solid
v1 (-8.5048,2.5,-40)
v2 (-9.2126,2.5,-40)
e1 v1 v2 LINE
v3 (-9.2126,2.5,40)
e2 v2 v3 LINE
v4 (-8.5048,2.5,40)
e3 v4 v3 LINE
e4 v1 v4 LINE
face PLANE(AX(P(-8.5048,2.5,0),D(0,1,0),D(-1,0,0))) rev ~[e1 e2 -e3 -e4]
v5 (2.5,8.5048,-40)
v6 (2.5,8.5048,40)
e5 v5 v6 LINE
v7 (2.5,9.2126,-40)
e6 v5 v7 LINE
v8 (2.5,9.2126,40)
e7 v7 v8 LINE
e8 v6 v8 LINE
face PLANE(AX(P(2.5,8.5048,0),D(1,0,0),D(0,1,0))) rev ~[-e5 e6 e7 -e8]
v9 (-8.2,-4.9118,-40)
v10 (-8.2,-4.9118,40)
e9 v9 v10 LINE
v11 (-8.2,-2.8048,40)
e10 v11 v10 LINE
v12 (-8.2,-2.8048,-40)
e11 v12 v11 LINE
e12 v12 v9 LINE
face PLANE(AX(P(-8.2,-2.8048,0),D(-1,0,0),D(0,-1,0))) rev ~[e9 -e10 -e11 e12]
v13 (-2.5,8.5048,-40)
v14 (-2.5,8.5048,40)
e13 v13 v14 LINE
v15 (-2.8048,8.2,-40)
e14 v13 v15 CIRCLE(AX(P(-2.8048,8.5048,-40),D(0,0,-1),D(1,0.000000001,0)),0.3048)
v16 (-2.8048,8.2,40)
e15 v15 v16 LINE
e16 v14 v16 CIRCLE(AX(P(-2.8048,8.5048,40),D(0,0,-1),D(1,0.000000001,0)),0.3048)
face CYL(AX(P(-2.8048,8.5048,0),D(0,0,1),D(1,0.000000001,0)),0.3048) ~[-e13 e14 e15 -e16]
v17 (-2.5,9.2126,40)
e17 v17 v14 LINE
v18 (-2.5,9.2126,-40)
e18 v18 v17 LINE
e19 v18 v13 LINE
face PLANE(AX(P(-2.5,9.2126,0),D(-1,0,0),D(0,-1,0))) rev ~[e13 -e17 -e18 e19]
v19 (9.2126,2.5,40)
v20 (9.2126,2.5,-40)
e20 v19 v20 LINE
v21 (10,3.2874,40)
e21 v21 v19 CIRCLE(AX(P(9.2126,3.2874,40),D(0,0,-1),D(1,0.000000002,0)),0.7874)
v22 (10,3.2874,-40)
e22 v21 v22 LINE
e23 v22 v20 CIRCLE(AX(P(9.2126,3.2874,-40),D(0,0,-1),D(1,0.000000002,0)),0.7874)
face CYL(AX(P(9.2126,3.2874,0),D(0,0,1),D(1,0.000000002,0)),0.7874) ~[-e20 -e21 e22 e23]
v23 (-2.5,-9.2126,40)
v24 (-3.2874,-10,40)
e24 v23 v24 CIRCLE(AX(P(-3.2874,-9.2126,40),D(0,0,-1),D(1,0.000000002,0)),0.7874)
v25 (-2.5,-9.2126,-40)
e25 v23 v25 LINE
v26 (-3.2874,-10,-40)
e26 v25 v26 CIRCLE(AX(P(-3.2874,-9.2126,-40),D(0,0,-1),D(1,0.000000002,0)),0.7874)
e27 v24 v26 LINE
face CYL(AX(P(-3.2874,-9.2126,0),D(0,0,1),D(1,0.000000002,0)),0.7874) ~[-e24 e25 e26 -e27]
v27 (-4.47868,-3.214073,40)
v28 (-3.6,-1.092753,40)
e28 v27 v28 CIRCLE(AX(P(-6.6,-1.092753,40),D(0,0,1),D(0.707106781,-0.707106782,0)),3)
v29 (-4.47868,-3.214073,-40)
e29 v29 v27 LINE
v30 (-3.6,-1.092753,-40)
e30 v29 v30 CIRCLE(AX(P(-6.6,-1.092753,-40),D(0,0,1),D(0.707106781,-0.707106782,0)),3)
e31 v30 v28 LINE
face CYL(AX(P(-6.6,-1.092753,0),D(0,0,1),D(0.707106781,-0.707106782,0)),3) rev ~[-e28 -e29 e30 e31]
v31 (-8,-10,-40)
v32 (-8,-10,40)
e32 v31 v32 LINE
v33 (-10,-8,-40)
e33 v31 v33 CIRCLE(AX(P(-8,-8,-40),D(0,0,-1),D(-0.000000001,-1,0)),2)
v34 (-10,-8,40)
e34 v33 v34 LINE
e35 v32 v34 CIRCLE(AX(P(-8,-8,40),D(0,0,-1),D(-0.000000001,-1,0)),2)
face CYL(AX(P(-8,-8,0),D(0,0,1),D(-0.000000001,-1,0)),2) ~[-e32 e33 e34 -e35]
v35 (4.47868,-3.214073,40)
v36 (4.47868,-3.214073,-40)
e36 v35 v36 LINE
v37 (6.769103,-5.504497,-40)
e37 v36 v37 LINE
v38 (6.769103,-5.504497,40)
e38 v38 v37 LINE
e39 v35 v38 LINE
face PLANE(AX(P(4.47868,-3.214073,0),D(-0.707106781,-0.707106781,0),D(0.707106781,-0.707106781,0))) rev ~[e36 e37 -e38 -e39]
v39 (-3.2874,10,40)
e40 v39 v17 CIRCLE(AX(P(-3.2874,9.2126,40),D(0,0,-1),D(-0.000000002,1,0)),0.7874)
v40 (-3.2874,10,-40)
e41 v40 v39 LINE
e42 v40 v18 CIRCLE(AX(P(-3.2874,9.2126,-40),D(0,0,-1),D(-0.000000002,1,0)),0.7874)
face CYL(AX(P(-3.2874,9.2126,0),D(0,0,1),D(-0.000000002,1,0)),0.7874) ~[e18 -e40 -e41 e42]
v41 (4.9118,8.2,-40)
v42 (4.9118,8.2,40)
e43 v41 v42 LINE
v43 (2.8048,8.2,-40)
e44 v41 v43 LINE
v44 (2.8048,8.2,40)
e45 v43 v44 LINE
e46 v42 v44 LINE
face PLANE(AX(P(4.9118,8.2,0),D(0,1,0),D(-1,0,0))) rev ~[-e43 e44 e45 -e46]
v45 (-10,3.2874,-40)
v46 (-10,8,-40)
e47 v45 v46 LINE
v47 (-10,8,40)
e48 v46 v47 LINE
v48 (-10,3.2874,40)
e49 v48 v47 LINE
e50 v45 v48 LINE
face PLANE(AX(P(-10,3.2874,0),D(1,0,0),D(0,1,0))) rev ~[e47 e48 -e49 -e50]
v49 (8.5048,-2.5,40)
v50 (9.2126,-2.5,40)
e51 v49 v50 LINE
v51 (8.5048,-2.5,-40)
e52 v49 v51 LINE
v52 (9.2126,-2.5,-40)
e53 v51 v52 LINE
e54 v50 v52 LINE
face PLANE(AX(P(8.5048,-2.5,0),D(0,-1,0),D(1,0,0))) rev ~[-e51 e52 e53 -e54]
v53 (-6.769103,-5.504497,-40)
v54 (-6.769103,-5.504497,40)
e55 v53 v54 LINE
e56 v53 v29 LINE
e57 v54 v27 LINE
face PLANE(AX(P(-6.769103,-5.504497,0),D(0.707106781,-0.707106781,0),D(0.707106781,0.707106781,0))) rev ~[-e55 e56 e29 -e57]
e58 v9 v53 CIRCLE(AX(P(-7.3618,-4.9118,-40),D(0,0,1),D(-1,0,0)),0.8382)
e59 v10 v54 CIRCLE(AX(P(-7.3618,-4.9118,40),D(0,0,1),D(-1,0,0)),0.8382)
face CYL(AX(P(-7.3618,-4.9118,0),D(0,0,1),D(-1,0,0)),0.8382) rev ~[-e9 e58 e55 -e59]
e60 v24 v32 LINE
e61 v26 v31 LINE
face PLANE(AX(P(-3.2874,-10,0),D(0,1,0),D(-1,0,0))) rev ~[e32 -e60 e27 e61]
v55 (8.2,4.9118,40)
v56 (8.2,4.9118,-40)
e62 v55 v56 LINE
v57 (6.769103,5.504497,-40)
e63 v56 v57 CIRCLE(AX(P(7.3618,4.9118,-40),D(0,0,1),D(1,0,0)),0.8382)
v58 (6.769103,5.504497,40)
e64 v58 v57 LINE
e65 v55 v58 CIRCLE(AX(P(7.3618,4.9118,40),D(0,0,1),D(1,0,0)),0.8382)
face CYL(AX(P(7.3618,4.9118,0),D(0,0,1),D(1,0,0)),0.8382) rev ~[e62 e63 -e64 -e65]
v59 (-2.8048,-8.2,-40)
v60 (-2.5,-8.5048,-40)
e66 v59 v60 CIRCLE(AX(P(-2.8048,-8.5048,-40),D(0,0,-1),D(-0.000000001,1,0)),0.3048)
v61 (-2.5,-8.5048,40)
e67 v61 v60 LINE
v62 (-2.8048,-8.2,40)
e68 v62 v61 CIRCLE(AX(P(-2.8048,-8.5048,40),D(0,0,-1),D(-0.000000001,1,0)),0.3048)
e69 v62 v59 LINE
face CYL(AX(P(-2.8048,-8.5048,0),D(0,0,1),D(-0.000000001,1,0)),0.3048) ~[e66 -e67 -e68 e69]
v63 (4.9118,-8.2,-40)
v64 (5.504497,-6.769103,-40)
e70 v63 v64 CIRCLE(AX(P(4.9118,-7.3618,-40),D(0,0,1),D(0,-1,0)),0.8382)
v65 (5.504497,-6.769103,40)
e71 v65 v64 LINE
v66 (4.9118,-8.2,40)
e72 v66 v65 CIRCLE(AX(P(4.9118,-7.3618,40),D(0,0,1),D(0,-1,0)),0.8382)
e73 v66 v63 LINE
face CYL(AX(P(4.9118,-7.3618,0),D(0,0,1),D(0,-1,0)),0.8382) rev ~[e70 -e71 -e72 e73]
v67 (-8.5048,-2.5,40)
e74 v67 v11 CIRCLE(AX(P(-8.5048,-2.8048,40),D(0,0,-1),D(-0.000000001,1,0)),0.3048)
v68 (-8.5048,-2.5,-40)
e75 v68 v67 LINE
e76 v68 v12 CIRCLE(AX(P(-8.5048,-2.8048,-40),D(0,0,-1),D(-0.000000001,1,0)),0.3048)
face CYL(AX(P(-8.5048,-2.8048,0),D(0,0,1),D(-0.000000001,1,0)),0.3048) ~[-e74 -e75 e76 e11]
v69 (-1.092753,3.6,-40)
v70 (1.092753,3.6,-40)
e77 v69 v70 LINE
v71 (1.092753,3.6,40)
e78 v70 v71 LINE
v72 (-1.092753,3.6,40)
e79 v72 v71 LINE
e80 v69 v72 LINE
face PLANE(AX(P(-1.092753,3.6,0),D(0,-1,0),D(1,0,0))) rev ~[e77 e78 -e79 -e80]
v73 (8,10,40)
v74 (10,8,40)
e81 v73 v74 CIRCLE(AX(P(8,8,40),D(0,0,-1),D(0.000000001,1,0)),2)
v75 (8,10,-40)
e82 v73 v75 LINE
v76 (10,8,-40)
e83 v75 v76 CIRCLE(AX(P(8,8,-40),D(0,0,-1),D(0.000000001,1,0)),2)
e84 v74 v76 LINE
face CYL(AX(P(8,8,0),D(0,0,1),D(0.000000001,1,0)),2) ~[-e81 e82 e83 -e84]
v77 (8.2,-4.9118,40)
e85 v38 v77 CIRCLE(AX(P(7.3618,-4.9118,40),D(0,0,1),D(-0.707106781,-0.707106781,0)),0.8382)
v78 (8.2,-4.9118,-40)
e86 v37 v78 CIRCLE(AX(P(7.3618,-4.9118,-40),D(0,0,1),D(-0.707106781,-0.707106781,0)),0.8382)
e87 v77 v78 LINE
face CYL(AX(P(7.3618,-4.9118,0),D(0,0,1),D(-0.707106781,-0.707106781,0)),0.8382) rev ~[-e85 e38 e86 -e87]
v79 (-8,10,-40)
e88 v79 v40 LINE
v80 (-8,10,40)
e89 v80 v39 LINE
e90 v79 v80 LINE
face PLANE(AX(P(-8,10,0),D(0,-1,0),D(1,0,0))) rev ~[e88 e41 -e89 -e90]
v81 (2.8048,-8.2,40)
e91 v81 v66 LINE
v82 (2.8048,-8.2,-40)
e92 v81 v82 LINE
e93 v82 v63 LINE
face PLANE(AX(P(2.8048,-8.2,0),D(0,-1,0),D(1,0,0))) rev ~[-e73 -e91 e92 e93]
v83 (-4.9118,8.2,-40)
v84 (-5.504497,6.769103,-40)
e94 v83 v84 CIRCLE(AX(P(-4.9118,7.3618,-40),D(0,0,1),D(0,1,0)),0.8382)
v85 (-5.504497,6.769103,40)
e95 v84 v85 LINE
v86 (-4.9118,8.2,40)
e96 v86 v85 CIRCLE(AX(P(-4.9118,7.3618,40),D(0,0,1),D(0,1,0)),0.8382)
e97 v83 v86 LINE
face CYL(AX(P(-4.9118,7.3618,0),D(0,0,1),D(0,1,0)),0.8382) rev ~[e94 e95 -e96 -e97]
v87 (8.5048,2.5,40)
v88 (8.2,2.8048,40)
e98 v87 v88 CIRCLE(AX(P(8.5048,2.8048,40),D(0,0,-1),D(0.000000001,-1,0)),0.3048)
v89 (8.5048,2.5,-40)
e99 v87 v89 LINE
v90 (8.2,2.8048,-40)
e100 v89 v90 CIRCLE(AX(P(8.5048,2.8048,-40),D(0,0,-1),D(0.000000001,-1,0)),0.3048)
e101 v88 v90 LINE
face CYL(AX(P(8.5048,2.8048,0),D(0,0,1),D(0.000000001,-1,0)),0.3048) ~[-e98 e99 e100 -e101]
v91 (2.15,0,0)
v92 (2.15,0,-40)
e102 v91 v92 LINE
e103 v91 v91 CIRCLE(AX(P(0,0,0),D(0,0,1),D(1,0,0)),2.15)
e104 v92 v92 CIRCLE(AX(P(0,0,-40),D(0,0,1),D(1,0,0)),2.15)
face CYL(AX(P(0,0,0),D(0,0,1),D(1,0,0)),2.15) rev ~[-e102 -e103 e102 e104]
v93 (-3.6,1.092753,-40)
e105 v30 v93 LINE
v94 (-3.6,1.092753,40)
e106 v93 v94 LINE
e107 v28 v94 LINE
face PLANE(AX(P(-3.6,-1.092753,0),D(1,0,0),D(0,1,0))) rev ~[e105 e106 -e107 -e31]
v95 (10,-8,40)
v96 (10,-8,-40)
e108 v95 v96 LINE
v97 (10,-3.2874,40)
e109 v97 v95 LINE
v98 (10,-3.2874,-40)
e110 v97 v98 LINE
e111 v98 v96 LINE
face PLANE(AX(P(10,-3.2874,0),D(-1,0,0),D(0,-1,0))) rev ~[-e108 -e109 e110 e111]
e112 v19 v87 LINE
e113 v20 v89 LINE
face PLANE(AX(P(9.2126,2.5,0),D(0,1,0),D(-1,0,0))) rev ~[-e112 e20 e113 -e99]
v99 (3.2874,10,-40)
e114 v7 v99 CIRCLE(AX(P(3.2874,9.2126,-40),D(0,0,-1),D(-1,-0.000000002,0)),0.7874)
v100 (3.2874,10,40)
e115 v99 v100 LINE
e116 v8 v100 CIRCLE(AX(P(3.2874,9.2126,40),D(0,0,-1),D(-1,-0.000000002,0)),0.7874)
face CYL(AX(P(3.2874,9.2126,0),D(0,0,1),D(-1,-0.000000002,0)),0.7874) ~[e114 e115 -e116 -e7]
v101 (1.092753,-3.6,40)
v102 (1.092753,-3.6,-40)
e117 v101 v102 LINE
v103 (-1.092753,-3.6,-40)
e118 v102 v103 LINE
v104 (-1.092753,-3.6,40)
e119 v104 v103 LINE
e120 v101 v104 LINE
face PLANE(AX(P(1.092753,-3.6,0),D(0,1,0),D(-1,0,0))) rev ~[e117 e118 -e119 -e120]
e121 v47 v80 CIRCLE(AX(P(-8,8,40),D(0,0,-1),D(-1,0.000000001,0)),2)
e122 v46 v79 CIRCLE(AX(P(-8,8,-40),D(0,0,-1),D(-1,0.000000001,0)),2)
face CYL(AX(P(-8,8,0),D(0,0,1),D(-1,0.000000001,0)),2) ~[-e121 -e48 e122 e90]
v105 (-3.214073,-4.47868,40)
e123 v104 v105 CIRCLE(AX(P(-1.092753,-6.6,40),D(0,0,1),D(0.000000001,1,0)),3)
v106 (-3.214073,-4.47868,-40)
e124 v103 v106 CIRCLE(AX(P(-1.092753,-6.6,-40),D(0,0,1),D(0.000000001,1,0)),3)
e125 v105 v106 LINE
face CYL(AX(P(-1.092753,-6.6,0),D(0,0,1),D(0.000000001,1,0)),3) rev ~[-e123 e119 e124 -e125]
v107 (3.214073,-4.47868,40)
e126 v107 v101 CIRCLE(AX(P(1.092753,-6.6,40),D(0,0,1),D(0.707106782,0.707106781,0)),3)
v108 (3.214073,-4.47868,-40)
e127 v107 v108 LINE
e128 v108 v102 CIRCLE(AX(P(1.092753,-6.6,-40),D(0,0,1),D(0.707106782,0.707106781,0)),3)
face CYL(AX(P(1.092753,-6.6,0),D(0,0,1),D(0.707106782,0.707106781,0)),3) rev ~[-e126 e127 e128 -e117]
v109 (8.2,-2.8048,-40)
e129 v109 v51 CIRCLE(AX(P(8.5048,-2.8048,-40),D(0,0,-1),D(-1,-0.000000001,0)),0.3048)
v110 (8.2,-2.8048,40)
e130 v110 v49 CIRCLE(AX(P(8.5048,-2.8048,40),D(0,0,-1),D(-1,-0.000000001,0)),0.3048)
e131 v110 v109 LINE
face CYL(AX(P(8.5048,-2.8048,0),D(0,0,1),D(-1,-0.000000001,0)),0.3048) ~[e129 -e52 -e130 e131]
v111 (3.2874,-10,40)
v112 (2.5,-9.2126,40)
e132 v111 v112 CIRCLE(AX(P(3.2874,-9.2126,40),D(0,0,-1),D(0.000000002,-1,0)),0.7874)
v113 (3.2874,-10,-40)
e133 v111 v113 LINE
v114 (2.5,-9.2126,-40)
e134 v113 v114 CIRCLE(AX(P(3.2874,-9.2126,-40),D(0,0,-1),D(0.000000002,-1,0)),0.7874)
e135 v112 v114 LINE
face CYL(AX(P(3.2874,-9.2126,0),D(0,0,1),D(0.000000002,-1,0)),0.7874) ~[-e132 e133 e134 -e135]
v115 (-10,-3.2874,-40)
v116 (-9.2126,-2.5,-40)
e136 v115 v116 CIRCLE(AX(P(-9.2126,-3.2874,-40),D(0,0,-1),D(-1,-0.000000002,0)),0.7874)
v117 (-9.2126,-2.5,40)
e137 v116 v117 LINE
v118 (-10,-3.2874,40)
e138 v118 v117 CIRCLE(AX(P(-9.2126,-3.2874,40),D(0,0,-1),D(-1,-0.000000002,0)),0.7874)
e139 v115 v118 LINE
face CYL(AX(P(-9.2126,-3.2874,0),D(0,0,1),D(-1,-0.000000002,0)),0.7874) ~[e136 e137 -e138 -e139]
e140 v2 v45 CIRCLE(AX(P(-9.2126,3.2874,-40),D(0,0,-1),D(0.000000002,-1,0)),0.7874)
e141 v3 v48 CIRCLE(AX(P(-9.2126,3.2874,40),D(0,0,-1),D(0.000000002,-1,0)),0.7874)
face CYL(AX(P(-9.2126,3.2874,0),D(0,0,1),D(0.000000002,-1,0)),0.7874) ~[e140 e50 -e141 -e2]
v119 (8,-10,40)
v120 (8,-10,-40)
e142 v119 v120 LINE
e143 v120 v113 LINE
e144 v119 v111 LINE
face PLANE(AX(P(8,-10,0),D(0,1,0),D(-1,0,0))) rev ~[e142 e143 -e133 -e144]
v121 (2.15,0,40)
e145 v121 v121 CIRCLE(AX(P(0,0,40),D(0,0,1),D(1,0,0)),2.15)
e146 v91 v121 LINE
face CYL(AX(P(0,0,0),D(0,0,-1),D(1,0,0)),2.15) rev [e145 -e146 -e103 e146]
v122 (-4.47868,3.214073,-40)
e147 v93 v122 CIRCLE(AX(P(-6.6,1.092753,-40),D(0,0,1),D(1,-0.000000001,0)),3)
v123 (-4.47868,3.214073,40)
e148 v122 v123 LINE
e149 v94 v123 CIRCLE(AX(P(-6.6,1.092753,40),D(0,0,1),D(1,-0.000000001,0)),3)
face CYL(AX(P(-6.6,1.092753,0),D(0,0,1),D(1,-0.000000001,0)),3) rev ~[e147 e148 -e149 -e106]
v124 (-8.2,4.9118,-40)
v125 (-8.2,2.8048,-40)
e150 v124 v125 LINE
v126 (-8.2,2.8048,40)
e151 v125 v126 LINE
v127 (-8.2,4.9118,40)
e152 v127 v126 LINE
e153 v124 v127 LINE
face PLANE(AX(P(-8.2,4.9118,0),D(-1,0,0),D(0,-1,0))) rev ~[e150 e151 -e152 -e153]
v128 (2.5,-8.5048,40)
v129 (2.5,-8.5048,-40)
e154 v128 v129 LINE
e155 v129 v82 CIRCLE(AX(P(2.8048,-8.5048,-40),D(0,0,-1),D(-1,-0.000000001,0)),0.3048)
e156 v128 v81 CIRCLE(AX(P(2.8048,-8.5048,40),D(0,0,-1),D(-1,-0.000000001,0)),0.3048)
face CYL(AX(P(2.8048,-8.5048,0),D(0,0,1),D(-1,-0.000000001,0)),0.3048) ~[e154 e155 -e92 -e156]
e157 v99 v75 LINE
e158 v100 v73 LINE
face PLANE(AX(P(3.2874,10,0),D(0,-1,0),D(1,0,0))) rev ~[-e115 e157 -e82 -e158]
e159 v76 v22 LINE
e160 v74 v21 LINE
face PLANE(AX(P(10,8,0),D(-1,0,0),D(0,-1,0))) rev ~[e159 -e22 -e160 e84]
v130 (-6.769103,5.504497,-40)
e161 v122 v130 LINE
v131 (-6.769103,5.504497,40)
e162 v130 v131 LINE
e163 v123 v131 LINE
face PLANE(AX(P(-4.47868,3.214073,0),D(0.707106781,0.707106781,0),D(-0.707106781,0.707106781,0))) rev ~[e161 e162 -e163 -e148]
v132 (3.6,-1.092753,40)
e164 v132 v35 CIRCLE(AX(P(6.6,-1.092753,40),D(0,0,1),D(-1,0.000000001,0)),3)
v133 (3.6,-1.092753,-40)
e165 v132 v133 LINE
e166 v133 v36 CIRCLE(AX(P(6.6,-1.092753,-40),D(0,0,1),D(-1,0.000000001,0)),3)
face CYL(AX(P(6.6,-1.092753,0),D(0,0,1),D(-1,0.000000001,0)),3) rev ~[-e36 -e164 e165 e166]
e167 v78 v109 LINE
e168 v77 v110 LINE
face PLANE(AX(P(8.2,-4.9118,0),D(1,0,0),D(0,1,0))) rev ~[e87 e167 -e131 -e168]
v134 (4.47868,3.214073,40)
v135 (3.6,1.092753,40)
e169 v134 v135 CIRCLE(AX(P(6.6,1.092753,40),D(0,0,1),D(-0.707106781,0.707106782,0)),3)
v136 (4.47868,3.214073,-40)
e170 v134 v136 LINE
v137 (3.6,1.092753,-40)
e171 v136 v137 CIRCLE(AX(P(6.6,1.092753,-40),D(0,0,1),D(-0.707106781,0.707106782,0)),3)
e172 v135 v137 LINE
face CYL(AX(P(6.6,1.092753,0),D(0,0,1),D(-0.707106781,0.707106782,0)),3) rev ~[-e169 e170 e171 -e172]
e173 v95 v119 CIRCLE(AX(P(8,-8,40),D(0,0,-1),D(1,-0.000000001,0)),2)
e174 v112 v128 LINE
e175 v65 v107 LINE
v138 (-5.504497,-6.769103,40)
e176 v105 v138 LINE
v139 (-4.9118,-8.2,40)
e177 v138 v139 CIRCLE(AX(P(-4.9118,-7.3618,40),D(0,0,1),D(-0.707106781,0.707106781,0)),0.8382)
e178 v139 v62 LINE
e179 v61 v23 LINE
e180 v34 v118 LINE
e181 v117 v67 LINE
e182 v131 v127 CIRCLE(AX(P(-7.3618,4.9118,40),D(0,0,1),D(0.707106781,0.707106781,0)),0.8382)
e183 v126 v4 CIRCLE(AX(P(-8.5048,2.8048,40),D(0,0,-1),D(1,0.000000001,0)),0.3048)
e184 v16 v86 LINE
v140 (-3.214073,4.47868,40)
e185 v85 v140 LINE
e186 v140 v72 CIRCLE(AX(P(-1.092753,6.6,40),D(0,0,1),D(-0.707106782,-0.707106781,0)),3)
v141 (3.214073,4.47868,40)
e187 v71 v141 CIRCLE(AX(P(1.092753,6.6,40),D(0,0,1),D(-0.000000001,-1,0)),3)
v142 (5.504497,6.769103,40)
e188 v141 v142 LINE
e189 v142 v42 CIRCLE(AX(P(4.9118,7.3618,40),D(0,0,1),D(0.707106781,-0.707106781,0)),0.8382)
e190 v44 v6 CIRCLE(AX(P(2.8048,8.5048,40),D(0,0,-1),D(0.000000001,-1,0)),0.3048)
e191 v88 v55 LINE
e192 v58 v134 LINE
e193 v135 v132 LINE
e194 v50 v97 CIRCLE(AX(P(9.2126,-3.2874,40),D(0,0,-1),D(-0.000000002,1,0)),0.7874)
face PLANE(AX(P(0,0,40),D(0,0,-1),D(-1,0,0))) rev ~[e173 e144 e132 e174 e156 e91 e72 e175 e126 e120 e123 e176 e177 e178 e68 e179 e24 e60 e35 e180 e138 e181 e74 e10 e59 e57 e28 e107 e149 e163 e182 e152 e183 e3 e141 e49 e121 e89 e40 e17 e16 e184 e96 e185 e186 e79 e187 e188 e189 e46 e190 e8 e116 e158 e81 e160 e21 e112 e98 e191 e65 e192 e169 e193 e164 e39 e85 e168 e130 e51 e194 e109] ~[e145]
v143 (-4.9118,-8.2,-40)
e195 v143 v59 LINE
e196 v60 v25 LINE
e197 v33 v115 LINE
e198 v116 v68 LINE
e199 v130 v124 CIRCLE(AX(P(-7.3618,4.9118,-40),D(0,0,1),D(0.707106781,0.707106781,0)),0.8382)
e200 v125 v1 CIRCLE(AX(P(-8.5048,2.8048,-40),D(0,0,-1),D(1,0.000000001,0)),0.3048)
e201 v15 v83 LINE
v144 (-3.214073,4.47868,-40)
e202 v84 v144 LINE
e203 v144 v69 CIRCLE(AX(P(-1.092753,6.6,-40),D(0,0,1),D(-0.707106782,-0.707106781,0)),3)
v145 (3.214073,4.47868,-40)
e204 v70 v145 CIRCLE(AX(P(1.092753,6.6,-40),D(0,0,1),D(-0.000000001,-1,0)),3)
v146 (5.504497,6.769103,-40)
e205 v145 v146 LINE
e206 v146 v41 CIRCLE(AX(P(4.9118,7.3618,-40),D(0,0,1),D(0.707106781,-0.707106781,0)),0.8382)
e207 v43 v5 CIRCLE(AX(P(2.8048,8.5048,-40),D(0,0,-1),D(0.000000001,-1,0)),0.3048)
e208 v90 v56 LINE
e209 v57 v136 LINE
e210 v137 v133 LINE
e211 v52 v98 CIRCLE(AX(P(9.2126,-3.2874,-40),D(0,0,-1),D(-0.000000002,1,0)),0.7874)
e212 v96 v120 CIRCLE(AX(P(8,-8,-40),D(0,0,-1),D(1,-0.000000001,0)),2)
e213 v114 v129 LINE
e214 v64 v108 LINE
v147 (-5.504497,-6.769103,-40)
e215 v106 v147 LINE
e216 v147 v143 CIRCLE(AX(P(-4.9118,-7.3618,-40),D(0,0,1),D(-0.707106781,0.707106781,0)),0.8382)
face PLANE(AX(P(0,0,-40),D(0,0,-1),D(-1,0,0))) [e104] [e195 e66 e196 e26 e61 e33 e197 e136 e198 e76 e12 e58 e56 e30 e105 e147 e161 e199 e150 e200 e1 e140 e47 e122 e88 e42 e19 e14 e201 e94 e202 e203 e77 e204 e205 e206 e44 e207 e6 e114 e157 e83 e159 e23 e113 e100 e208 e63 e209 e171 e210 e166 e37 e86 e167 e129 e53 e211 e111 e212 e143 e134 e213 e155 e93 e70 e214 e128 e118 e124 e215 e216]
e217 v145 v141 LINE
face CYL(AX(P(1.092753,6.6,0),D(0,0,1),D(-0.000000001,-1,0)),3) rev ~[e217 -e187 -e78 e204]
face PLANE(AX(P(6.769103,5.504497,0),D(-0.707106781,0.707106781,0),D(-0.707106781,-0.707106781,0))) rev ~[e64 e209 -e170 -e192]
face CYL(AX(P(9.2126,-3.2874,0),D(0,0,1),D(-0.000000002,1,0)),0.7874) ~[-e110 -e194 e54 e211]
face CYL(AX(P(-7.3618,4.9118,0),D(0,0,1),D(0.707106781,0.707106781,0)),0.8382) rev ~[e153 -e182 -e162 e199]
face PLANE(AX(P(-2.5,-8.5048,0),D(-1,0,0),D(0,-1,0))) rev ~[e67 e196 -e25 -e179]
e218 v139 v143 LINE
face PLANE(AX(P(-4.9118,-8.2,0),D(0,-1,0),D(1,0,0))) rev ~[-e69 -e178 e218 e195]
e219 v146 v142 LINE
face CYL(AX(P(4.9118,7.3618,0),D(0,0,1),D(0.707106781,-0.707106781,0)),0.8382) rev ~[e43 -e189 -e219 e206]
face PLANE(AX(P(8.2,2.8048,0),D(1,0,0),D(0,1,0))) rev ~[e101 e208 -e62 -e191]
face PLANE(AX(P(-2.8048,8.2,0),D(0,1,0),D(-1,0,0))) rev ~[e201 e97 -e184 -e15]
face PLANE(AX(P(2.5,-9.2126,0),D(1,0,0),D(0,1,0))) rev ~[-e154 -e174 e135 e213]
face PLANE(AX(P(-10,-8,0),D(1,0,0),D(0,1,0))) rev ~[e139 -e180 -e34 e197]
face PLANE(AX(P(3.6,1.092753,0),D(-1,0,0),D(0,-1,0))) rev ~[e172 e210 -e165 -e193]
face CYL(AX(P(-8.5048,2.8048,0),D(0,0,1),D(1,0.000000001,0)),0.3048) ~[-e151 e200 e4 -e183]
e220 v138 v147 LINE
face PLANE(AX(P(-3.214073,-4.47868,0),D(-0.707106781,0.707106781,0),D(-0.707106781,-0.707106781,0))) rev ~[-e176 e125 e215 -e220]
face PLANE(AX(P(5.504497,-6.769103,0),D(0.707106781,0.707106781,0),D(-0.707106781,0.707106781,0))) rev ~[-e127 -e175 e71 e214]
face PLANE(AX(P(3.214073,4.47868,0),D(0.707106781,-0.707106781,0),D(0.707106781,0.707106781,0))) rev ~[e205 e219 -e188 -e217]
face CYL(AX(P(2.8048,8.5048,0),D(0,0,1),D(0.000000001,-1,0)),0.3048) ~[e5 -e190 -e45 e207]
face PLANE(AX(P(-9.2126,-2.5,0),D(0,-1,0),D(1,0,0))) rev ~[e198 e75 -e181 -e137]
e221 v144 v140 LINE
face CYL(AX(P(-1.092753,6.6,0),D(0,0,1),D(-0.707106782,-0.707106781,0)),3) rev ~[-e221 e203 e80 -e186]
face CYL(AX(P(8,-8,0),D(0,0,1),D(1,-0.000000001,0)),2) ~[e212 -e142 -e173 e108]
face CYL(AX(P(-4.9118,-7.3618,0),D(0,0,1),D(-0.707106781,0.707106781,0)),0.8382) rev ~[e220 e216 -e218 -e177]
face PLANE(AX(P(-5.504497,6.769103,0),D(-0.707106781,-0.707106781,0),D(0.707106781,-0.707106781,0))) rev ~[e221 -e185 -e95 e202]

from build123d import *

# Parameters (mm, degrees)
SKETCH3_R                = 2.15
BOSS_EXTRUDE1_DEPTH      = 40
BOSS_EXTRUDE1_DEPTH_BACK = 40


with BuildPart() as part:
    # Sketch3 → Boss-Extrude1 (new body, two sides)
    with BuildSketch(Plane.XY) as boss_extrude1_sk:
        with BuildLine():
            Line((3.2874, 10), (8, 10))
            ThreePointArc((8, 10), (9.414213562, 9.414213562), (10, 8))
            Line((10, 8), (10, 3.2874))
            ThreePointArc((10, 3.2874), (9.76937588, 2.73062412), (9.2126, 2.5))
            Line((9.2126, 2.5), (8.5048, 2.5))
            ThreePointArc((8.5048, 2.5), (8.289273853, 2.589273853), (8.2, 2.8048))
            Line((8.2, 2.8048), (8.2, 4.9118))
            ThreePointArc((8.2, 4.9118), (7.682565253, 5.686195824), (6.769103096, 5.504496904))
            Line((6.769103096, 5.504496904), (4.478679656, 3.214073464))
            ThreePointArc((4.478679656, 3.214073464), (3.828361402, 2.240803418), (3.6, 1.092753121))
            Line((3.6, 1.092753121), (3.6, -1.092753121))
            ThreePointArc((3.6, -1.092753121), (3.828361402, -2.240803418), (4.478679656, -3.214073464))
            Line((4.478679656, -3.214073464), (6.769103096, -5.504496904))
            ThreePointArc((6.769103096, -5.504496904), (7.682565253, -5.686195824), (8.2, -4.9118))
            Line((8.2, -4.9118), (8.2, -2.8048))
            ThreePointArc((8.2, -2.8048), (8.289273853, -2.589273853), (8.5048, -2.5))
            Line((8.5048, -2.5), (9.2126, -2.5))
            ThreePointArc((9.2126, -2.5), (9.76937588, -2.73062412), (10, -3.2874))
            Line((10, -3.2874), (10, -8))
            ThreePointArc((10, -8), (9.414213562, -9.414213562), (8, -10))
            Line((8, -10), (3.2874, -10))
            ThreePointArc((3.2874, -10), (2.73062412, -9.76937588), (2.5, -9.2126))
            Line((2.5, -9.2126), (2.5, -8.5048))
            ThreePointArc((2.5, -8.5048), (2.589273853, -8.289273853), (2.8048, -8.2))
            Line((2.8048, -8.2), (4.9118, -8.2))
            ThreePointArc((4.9118, -8.2), (5.686195824, -7.682565253), (5.504496904, -6.769103096))
            Line((5.504496904, -6.769103096), (3.214073464, -4.478679656))
            ThreePointArc((3.214073464, -4.478679656), (2.240803418, -3.828361402), (1.092753121, -3.6))
            Line((1.092753121, -3.6), (-1.092753121, -3.6))
            ThreePointArc((-1.092753121, -3.6), (-2.240803418, -3.828361402), (-3.214073464, -4.478679656))
            Line((-3.214073464, -4.478679656), (-5.504496904, -6.769103096))
            ThreePointArc((-5.504496904, -6.769103096), (-5.686195824, -7.682565253), (-4.9118, -8.2))
            Line((-4.9118, -8.2), (-2.8048, -8.2))
            ThreePointArc((-2.8048, -8.2), (-2.589273853, -8.289273853), (-2.5, -8.5048))
            Line((-2.5, -8.5048), (-2.5, -9.2126))
            ThreePointArc((-2.5, -9.2126), (-2.73062412, -9.76937588), (-3.2874, -10))
            Line((-3.2874, -10), (-8, -10))
            ThreePointArc((-8, -10), (-9.414213562, -9.414213562), (-10, -8))
            Line((-10, -8), (-10, -3.2874))
            ThreePointArc((-10, -3.2874), (-9.76937588, -2.73062412), (-9.2126, -2.5))
            Line((-9.2126, -2.5), (-8.5048, -2.5))
            ThreePointArc((-8.5048, -2.5), (-8.289273853, -2.589273853), (-8.2, -2.8048))
            Line((-8.2, -2.8048), (-8.2, -4.9118))
            ThreePointArc((-8.2, -4.9118), (-7.682565253, -5.686195824), (-6.769103096, -5.504496904))
            Line((-6.769103096, -5.504496904), (-4.478679656, -3.214073464))
            ThreePointArc((-4.478679656, -3.214073464), (-3.828361402, -2.240803418), (-3.6, -1.092753121))
            Line((-3.6, -1.092753121), (-3.6, 1.092753121))
            ThreePointArc((-3.6, 1.092753121), (-3.828361402, 2.240803418), (-4.478679656, 3.214073464))
            Line((-4.478679656, 3.214073464), (-6.769103096, 5.504496904))
            ThreePointArc((-6.769103096, 5.504496904), (-7.682565253, 5.686195824), (-8.2, 4.9118))
            Line((-8.2, 4.9118), (-8.2, 2.8048))
            ThreePointArc((-8.2, 2.8048), (-8.289273853, 2.589273853), (-8.5048, 2.5))
            Line((-8.5048, 2.5), (-9.2126, 2.5))
            ThreePointArc((-9.2126, 2.5), (-9.76937588, 2.73062412), (-10, 3.2874))
            Line((-10, 3.2874), (-10, 8))
            ThreePointArc((-10, 8), (-9.414213562, 9.414213562), (-8, 10))
            Line((-8, 10), (-3.2874, 10))
            ThreePointArc((-3.2874, 10), (-2.73062412, 9.76937588), (-2.5, 9.2126))
            Line((-2.5, 9.2126), (-2.5, 8.5048))
            ThreePointArc((-2.5, 8.5048), (-2.589273853, 8.289273853), (-2.8048, 8.2))
            Line((-2.8048, 8.2), (-4.9118, 8.2))
            ThreePointArc((-4.9118, 8.2), (-5.686195824, 7.682565253), (-5.504496904, 6.769103096))
            Line((-5.504496904, 6.769103096), (-3.214073464, 4.478679656))
            ThreePointArc((-3.214073464, 4.478679656), (-2.240803418, 3.828361402), (-1.092753121, 3.6))
            Line((-1.092753121, 3.6), (1.092753121, 3.6))
            ThreePointArc((1.092753121, 3.6), (2.240803418, 3.828361402), (3.214073464, 4.478679656))
            Line((3.214073464, 4.478679656), (5.504496904, 6.769103096))
            ThreePointArc((5.504496904, 6.769103096), (5.686195824, 7.682565253), (4.9118, 8.2))
            Line((4.9118, 8.2), (2.8048, 8.2))
            ThreePointArc((2.8048, 8.2), (2.589273853, 8.289273853), (2.5, 8.5048))
            Line((2.5, 8.5048), (2.5, 9.2126))
            ThreePointArc((2.5, 9.2126), (2.73062412, 9.76937588), (3.2874, 10))
        make_face()
        Circle(SKETCH3_R, mode=Mode.SUBTRACT)
    extrude(amount=BOSS_EXTRUDE1_DEPTH)
    extrude(boss_extrude1_sk.sketch, amount=-BOSS_EXTRUDE1_DEPTH_BACK)


solid = part.part
